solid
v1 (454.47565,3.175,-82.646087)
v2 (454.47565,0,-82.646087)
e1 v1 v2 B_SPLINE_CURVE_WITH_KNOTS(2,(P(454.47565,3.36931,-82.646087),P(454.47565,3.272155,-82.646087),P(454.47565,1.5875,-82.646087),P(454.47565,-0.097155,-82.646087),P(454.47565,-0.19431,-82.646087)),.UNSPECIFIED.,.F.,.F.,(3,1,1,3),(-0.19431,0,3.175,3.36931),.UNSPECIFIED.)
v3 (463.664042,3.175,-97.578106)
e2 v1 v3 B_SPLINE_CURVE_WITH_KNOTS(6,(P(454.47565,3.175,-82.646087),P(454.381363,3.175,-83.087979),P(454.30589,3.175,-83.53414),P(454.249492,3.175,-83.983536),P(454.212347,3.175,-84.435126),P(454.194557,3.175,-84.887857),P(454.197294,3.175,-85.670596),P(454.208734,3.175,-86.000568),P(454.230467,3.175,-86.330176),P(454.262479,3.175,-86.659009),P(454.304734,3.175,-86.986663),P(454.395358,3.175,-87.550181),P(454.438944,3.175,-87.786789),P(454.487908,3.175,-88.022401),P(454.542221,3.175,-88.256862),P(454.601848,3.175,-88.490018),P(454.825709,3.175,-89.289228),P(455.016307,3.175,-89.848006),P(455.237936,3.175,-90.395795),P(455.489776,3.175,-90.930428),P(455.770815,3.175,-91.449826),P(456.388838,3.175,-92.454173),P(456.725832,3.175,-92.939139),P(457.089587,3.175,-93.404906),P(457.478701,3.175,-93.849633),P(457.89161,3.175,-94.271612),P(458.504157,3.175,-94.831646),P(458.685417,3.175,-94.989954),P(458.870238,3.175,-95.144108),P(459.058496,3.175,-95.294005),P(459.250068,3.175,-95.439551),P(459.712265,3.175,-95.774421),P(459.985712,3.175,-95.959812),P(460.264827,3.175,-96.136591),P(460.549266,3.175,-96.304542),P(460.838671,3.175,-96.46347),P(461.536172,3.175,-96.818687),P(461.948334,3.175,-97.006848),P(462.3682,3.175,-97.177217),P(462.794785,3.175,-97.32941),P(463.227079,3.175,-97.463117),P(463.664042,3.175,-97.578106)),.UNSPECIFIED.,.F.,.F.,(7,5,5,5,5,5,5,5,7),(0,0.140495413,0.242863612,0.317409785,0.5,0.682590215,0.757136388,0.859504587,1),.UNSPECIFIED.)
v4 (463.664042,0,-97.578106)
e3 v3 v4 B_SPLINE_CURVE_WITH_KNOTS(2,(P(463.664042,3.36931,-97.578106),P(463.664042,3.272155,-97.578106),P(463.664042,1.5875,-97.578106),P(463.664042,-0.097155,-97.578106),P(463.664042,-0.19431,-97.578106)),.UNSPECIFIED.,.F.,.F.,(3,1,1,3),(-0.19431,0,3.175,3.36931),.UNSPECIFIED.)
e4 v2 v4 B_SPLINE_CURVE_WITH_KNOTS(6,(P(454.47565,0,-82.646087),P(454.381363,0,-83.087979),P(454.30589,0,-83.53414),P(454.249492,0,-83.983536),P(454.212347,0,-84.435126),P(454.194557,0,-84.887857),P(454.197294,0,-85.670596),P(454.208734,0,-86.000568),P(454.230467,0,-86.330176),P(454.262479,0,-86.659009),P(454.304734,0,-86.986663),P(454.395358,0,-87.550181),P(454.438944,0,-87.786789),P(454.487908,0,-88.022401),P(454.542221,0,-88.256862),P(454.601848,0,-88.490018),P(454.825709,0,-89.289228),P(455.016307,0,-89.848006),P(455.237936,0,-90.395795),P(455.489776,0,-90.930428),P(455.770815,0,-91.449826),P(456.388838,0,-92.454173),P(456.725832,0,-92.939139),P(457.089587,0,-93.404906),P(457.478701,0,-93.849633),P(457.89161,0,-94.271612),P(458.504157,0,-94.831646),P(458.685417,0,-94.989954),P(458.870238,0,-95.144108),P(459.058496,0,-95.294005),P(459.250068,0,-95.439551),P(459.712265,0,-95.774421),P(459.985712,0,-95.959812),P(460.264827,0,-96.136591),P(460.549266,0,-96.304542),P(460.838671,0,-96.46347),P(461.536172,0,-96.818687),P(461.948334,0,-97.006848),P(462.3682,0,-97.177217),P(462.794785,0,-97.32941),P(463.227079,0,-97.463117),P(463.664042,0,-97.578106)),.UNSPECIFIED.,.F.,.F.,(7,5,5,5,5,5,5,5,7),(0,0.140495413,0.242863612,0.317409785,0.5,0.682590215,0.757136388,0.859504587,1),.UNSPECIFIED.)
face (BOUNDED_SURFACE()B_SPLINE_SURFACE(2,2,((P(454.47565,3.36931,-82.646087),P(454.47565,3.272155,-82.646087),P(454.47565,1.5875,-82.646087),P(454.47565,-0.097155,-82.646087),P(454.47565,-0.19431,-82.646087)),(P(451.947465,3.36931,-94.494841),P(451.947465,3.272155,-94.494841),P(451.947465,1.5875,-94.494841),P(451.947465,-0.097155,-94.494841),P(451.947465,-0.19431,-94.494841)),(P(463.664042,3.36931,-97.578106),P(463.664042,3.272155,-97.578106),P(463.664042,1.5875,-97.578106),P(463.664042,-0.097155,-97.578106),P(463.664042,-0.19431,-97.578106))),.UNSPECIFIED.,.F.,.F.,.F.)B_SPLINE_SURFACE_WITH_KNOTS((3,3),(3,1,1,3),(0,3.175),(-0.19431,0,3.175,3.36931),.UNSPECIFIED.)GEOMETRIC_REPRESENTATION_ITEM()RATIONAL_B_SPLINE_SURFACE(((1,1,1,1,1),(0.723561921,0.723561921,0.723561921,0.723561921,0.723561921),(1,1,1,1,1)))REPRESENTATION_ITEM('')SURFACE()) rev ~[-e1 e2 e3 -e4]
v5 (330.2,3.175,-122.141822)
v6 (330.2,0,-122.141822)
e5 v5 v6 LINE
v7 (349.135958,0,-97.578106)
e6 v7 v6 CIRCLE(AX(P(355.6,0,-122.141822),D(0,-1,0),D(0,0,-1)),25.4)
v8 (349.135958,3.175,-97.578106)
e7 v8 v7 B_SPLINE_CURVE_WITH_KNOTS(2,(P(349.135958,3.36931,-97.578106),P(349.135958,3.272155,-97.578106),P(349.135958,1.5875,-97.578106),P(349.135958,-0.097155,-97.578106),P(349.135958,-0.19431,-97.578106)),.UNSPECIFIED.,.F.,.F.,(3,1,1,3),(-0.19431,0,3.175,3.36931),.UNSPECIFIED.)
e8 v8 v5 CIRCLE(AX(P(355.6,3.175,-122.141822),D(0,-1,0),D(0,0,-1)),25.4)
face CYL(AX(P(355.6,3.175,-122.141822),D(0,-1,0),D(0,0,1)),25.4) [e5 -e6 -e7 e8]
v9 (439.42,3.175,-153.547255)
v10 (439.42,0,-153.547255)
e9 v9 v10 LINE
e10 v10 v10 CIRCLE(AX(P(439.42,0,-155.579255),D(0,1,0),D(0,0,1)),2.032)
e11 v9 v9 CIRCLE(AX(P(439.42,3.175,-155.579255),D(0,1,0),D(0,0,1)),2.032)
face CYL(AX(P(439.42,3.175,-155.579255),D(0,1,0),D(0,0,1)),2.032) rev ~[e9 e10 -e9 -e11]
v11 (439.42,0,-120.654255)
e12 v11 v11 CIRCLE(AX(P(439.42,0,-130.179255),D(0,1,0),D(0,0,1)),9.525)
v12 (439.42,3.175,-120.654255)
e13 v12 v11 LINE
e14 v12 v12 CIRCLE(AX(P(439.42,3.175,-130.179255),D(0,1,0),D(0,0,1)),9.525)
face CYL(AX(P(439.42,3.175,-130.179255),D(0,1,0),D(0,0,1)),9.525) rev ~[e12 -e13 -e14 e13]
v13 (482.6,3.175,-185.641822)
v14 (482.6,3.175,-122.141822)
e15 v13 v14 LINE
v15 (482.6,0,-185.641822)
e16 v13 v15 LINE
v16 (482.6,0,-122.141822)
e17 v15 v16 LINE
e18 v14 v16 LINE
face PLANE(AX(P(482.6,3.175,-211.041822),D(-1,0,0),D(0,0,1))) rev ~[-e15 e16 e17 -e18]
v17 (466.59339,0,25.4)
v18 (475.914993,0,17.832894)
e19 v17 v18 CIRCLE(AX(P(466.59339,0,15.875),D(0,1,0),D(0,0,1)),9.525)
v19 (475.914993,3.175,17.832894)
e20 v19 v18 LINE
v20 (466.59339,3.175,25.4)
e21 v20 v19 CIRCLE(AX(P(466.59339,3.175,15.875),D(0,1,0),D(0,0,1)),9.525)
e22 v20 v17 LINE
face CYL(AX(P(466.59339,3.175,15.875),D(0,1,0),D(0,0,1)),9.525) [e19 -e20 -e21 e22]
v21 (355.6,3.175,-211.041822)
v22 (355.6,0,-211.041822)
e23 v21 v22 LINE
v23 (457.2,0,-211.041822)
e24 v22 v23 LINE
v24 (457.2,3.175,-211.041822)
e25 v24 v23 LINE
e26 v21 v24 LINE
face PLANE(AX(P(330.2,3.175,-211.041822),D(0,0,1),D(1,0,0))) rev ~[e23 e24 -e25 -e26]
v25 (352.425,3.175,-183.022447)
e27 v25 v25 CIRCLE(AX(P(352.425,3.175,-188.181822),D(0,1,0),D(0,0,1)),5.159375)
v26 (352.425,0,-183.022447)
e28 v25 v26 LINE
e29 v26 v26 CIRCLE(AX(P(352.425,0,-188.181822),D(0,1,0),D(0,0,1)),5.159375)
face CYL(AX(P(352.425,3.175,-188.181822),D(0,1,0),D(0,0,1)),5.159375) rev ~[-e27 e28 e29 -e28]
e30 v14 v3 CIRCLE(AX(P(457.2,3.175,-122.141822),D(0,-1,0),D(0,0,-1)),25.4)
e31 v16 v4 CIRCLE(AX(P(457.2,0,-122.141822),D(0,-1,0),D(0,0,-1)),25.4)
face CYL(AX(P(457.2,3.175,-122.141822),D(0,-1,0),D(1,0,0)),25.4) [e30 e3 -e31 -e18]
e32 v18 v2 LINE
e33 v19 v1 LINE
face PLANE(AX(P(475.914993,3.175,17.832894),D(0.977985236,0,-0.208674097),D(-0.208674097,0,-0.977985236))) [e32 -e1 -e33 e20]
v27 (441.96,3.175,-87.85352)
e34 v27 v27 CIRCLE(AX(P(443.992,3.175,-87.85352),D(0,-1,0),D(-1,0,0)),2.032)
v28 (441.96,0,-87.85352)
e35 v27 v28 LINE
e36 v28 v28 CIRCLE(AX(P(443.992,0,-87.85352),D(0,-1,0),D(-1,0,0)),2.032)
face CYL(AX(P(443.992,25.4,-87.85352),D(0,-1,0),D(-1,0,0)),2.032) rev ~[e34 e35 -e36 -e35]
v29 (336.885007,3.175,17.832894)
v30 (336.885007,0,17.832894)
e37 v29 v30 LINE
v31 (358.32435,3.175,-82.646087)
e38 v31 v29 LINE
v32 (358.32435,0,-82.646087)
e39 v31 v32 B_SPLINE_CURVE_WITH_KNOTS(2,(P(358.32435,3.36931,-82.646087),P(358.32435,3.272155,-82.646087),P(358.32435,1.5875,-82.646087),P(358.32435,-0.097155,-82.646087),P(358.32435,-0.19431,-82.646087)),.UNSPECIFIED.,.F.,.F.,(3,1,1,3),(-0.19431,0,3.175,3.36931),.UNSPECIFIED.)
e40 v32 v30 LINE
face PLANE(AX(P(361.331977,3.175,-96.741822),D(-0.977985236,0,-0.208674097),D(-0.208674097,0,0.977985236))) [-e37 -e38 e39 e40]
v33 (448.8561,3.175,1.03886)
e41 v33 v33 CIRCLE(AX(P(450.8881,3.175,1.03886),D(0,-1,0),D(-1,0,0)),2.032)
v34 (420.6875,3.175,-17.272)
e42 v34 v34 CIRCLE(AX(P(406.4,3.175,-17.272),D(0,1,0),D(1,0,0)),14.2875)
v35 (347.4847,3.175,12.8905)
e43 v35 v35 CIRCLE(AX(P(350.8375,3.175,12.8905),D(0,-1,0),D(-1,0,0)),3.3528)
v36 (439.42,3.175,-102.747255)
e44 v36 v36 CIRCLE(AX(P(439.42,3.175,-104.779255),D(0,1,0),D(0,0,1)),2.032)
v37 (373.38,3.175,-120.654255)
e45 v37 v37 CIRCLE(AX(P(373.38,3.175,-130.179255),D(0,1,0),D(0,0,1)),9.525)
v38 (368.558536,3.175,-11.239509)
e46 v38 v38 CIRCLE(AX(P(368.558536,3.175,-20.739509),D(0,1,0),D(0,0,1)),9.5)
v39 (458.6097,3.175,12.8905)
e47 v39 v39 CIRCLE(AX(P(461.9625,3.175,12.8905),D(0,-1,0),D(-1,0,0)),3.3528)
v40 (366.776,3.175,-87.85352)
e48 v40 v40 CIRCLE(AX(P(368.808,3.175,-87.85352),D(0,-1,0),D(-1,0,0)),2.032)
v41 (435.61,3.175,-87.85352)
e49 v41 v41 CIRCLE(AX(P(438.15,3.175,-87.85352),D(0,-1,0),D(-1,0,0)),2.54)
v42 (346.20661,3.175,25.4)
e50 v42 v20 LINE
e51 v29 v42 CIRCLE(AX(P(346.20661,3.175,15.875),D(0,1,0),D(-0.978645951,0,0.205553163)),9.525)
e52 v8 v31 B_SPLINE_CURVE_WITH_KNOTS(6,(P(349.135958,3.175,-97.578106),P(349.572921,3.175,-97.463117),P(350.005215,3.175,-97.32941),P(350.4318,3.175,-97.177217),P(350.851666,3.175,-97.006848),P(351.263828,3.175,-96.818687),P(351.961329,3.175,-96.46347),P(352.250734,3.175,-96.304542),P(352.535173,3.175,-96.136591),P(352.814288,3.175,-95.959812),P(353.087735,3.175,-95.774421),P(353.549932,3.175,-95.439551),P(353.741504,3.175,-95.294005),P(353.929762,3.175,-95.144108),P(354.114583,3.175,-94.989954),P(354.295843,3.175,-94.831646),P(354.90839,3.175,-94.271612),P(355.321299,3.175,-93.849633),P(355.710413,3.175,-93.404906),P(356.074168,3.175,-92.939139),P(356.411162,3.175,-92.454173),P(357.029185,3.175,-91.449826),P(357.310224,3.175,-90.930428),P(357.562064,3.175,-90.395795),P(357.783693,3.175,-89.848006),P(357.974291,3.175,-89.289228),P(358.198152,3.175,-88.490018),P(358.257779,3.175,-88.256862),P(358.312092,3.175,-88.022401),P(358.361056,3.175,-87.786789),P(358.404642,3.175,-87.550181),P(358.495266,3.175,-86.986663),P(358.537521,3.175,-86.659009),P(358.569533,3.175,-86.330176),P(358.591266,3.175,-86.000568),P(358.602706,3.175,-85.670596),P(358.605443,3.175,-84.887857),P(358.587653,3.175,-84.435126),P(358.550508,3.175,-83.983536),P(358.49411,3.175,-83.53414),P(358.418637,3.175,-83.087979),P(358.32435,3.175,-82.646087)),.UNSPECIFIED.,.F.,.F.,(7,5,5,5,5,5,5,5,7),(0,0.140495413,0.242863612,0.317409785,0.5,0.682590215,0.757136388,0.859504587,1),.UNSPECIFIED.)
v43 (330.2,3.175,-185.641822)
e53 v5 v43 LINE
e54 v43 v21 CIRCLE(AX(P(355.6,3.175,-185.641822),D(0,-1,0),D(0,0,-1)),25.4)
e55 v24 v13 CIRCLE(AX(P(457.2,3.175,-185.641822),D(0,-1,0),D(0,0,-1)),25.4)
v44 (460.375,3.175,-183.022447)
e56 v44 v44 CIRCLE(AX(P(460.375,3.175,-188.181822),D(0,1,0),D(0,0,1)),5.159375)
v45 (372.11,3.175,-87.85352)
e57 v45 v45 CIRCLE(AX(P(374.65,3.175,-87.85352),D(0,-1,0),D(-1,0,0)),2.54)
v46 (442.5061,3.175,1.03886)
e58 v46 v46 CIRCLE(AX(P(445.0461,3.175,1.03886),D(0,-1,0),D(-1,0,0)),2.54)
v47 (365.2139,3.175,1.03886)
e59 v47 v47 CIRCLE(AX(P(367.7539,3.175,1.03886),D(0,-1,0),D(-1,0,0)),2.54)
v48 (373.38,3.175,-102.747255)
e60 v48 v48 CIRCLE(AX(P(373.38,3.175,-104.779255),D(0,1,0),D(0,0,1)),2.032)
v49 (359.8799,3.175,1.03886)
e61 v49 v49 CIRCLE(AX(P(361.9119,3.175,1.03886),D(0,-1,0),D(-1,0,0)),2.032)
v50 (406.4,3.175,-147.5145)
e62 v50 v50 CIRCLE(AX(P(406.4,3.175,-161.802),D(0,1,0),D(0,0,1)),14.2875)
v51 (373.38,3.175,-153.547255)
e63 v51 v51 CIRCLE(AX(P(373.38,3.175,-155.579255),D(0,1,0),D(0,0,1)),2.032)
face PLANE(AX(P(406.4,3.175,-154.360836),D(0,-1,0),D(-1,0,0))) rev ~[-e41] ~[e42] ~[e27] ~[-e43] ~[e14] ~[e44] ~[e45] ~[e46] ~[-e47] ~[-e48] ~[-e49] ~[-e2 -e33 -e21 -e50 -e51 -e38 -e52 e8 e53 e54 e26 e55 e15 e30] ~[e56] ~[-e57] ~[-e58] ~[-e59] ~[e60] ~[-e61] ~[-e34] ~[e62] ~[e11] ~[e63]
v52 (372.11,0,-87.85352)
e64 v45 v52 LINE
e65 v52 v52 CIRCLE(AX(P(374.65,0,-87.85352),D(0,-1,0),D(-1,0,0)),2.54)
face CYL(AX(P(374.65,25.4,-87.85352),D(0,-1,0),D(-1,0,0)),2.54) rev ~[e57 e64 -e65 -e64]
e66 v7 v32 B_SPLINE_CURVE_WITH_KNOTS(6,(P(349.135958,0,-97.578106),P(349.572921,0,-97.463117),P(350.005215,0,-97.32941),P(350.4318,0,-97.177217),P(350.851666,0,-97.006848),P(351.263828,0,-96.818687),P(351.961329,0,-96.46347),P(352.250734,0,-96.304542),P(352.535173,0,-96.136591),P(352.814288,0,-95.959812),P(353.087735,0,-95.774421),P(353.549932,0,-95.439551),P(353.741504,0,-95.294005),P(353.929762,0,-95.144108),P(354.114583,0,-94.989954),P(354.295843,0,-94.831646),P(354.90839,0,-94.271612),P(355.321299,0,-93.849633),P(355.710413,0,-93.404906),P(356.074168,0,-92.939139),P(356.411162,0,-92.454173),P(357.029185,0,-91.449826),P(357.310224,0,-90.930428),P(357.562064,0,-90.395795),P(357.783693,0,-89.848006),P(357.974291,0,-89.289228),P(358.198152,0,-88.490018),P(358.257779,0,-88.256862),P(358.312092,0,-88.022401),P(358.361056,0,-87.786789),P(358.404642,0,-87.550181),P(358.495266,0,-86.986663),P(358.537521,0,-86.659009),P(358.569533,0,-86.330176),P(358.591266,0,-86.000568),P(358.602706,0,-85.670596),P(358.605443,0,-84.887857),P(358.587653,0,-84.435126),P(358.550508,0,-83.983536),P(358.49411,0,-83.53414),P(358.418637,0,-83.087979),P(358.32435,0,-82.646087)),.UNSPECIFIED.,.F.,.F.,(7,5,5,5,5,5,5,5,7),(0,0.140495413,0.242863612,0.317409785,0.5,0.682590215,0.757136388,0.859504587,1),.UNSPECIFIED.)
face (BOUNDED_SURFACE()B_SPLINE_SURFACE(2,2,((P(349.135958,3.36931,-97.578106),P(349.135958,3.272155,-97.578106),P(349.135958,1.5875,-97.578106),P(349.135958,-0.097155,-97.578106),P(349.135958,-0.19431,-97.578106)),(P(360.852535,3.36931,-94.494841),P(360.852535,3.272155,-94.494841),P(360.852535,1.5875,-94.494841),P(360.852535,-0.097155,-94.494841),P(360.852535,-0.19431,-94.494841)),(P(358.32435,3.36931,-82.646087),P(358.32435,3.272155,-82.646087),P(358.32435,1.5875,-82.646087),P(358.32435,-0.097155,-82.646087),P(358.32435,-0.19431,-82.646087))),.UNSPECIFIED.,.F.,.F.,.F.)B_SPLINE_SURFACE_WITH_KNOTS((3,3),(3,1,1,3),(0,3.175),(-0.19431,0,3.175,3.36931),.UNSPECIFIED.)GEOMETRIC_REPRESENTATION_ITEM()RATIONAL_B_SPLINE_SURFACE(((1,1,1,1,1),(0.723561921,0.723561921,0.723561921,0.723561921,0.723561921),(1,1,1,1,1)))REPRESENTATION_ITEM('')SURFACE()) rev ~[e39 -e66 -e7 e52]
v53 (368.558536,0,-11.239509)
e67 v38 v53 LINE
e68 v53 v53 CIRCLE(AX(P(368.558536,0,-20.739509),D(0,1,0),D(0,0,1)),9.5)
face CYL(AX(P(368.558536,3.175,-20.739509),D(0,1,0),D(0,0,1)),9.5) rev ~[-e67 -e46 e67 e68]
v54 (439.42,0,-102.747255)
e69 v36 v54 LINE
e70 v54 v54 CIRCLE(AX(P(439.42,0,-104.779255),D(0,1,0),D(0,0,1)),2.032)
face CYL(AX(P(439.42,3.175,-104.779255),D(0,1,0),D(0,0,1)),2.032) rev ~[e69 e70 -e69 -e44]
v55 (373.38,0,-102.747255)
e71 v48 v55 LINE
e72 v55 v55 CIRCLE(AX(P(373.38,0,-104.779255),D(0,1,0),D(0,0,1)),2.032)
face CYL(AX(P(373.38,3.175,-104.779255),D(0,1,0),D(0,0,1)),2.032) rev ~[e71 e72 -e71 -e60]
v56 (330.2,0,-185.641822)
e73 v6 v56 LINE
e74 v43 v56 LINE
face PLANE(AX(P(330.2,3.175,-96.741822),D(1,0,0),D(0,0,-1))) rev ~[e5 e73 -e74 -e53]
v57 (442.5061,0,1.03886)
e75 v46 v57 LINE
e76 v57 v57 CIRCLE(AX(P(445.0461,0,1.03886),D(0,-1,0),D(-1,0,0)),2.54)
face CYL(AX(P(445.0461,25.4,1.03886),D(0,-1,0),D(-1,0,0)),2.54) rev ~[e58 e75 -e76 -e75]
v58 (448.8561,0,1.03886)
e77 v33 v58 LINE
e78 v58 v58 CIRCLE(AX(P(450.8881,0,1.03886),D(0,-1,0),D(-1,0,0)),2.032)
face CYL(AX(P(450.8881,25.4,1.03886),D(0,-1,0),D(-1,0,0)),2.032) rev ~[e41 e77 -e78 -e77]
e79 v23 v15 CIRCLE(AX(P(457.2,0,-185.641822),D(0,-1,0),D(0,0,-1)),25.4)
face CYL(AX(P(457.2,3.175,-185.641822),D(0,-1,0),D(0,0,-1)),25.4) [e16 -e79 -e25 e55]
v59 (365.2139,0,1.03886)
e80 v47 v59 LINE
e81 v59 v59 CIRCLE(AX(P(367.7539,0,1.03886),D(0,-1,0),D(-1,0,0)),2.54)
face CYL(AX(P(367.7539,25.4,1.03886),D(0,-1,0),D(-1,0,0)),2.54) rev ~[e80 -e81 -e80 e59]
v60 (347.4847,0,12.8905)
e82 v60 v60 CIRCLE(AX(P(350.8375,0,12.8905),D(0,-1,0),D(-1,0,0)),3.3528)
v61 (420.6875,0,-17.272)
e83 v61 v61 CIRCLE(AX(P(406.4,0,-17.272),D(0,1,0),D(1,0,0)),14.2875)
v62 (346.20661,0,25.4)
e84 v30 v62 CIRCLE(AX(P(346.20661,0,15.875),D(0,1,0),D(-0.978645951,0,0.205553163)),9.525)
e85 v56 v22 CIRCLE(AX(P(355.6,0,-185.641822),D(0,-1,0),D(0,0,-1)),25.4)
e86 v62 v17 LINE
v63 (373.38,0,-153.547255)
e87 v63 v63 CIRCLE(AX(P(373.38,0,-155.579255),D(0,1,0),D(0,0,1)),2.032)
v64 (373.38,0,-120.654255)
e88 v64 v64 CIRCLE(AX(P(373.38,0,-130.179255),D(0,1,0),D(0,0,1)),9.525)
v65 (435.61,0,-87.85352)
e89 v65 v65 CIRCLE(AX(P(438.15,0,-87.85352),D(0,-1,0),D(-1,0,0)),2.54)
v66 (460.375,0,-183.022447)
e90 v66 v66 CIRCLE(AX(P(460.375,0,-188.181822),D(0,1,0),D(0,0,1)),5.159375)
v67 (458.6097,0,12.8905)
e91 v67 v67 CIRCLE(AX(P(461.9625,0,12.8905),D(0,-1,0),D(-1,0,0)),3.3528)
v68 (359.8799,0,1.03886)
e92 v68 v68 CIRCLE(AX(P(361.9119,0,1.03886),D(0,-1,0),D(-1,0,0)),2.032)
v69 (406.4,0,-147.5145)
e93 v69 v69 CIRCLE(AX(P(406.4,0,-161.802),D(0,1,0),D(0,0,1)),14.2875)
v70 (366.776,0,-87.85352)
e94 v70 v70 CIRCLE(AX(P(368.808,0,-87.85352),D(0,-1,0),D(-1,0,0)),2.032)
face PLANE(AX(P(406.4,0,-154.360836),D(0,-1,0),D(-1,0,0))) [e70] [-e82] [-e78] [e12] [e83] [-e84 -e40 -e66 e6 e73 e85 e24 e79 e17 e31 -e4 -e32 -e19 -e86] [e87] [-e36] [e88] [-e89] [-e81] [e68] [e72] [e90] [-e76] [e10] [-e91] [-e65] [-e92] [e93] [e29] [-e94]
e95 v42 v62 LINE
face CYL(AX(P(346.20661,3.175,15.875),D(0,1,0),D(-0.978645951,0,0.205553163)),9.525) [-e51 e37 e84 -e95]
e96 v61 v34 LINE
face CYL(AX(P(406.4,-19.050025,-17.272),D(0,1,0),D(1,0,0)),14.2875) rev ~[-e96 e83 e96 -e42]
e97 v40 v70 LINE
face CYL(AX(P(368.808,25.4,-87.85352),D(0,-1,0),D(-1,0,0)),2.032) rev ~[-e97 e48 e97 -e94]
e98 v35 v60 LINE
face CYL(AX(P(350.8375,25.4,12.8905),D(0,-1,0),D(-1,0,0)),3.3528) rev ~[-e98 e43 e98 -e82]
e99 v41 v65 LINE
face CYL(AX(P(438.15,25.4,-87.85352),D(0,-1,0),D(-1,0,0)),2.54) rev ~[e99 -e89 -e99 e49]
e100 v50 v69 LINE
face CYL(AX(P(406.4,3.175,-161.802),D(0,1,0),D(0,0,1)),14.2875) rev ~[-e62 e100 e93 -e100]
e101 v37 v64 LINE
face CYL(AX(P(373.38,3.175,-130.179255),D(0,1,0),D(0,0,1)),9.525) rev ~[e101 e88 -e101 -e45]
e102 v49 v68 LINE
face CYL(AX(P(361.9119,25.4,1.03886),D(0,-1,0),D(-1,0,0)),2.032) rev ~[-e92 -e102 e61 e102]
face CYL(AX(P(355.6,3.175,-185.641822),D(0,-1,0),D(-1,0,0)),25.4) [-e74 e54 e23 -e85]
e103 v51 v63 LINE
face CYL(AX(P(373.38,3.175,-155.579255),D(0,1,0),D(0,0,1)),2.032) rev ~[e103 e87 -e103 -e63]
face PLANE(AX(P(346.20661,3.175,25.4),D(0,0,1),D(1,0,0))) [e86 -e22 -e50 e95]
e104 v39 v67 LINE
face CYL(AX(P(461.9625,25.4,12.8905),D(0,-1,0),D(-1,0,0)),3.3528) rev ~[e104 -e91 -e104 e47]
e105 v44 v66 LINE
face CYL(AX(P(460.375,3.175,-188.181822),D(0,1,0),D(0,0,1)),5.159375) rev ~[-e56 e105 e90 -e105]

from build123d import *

# Parameters (mm, degrees)
SKETCH1_W                  = 355.6
SKETCH1_H                  = 77.724
BOSS_EXTRUDE1_DEPTH        = 22.225
SKETCH2_W                  = 74.549
SKETCH2_H                  = 19.05
CUT_EXTRUDE1_DEPTH         = 364.67400769
SKETCH3_W                  = 25.4
SKETCH3_H                  = 3.937
CUT_EXTRUDE2_DEPTH         = 817.444922817
SKETCH4_W                  = 330.2
SKETCH4_H                  = 3.175
BOSS_EXTRUDE2_DEPTH        = 15.875
SKETCH5_W                  = 69.85
SKETCH5_H                  = 3.175
BOSS_EXTRUDE3_DEPTH        = 457.2
SKETCH6_W                  = 330.2
SKETCH6_H                  = 3.175
BOSS_EXTRUDE4_DEPTH        = 3.937
SKETCH7_W                  = 330.2
SKETCH7_H                  = 3.175
BOSS_EXTRUDE5_DEPTH        = 15.875
SKETCH8_W                  = 355.6
SKETCH8_H                  = 3.175
BOSS_EXTRUDE6_DEPTH        = 3.937
SKETCH9_W                  = 355.6
SKETCH9_H                  = 3.175
BOSS_EXTRUDE7_DEPTH        = 19.05
SKETCH10_W                 = 76.358809824
SKETCH10_H                 = 3.175
BOSS_EXTRUDE8_DEPTH        = 27.432
SKETCH11_W                 = 124.052954744
SKETCH11_H                 = 3.175
BOSS_EXTRUDE9_DEPTH        = 19.05
DRAFT1_ANGLE               = 30
DRAFT2_ANGLE               = 19
M20_CLEARANCE_HOLE1_D      = 22.225
M20_CLEARANCE_HOLE1_DEPTH  = 19.050025
HOLE1_D                    = 8.128
HOLE1_DEPTH                = 22.225
M25_CLEARANCE_HOLE1_D      = 28.575
M25_CLEARANCE_HOLE1_DEPTH  = 22.225
M3_CLEARANCE_HOLE1_D       = 3.571875
M3_CLEARANCE_HOLE1_DEPTH   = 22.225
M2_CLEARANCE_HOLE1_D       = 2.54
M2_CLEARANCE_HOLE1_DEPTH   = 22.225
M3_5_CLEARANCE_HOLE1_D     = 4.064
M3_5_CLEARANCE_HOLE1_DEPTH = 22.225
HOLE2_D                    = 5.08
HOLE2_DEPTH                = 22.225
M25_CLEARANCE_HOLE2_D      = 28.575
M25_CLEARANCE_HOLE2_DEPTH  = 19.050025
HOLE3_D                    = 5.1054
HOLE3_DEPTH                = 19.050025
HOLE4_D                    = 8.128
HOLE4_DEPTH                = 19.050025
M3_CLEARANCE_HOLE2_D       = 3.571875
M3_CLEARANCE_HOLE2_DEPTH   = 19.050025
M6_CLEARANCE_HOLE1_D       = 6.7056
M6_CLEARANCE_HOLE1_DEPTH   = 22.225
M6_CLEARANCE_HOLE2_D       = 6.7056
M6_CLEARANCE_HOLE2_DEPTH   = 101.219
M5_CLEARANCE_HOLE1_D       = 5.334
M5_CLEARANCE_HOLE1_DEPTH   = 92.837
CHAMFER1_SIZE              = 3.175
FILLET1_R                  = 0.762
FILLET2_R                  = 3.175
FILLET3_R                  = 3.937
CUT_EXTRUDE3_DEPTH         = 819.902667079
CUT_EXTRUDE3_DEPTH_BACK    = 819.902667079
BOSS_EXTRUDE10_DEPTH       = 3.175
BOSS_EXTRUDE11_DEPTH       = 3.175
FILLET4_R                  = 25.4
FILLET5_R                  = 12.7
SKETCH47_R                 = 14.2875
SKETCH47_R_2               = 8.5
SKETCH47_R_3               = 9.525
SKETCH47_R_4               = 2.032
CUT_EXTRUDE4_DEPTH         = 527.736643419
SKETCH49_R                 = 9.5
CUT_EXTRUDE12_DEPTH        = 12.7
SKETCH58_R                 = 5.159375
CUT_EXTRUDE14_DEPTH        = 527.736643419


with BuildPart() as part:
    # Sketch1 → Boss-Extrude1 (new body)
    with BuildSketch(Plane(origin=(0, 3.175, 0), x_dir=(1, 0, 0), z_dir=(0, 1, 0))):
        with Locations((635, 34.925)):
            Rectangle(SKETCH1_W, SKETCH1_H)
    extrude(amount=-BOSS_EXTRUDE1_DEPTH)

    # Sketch2 → Cut-Extrude1 (cut, through all)
    with BuildSketch(Plane(origin=(812.8, 0, 0), x_dir=(0, 0, -1), z_dir=(1, 0, 0))):
        with Locations((33.3375, -9.525)):
            Rectangle(SKETCH2_W, SKETCH2_H)
    extrude(amount=-CUT_EXTRUDE1_DEPTH, mode=Mode.SUBTRACT)

    # Sketch3 → Cut-Extrude2 (cut, through all)
    with BuildSketch(Plane(origin=(0, 3.175, 0), x_dir=(-1, 0, 0), z_dir=(0, 1, 0))):
        with Locations((-469.9, 1.9685)):
            Rectangle(SKETCH3_W, SKETCH3_H)
    extrude(amount=-CUT_EXTRUDE2_DEPTH, mode=Mode.SUBTRACT)

    # Sketch4 → Boss-Extrude2 (add)
    with BuildSketch(Plane(origin=(0, 3.175, 0), x_dir=(-1, 0, 0), z_dir=(0, 1, 0))):
        with Locations((-647.7, 2.3495)):
            Rectangle(SKETCH4_W, SKETCH4_H)
    extrude(amount=BOSS_EXTRUDE2_DEPTH)

    # Sketch5 → Boss-Extrude3 (add)
    with BuildSketch(Plane.ZY.offset(-457.2)):
        with Locations((-34.925, 1.5875)):
            Rectangle(SKETCH5_W, SKETCH5_H)
    extrude(amount=BOSS_EXTRUDE3_DEPTH)

    # Sketch6 → Boss-Extrude4 (add)
    with BuildSketch(Plane.XY):
        with Locations((165.1, 1.5875)):
            Rectangle(SKETCH6_W, SKETCH6_H)
    extrude(amount=BOSS_EXTRUDE4_DEPTH)

    # Sketch7 → Boss-Extrude5 (add)
    with BuildSketch(Plane(origin=(0, 3.175, 0), x_dir=(-1, 0, 0), z_dir=(0, 1, 0))):
        with Locations((-165.1, 2.3495)):
            Rectangle(SKETCH7_W, SKETCH7_H)
    extrude(amount=BOSS_EXTRUDE5_DEPTH)

    # Sketch8 → Boss-Extrude6 (add)
    with BuildSketch(Plane(origin=(0, 0, -69.85), x_dir=(-1, 0, 0), z_dir=(0, 0, -1))):
        with Locations((-177.8, 1.5875)):
            Rectangle(SKETCH8_W, SKETCH8_H)
    extrude(amount=BOSS_EXTRUDE6_DEPTH)

    # Sketch9 → Boss-Extrude7 (add)
    with BuildSketch(Plane.XZ):
        with Locations((177.8, -72.1995)):
            Rectangle(SKETCH9_W, SKETCH9_H)
    extrude(amount=BOSS_EXTRUDE7_DEPTH)

    # Sketch10 → Boss-Extrude8 (add)
    with BuildSketch(Plane(origin=(0, 0, -69.85), x_dir=(-1, 0, 0), z_dir=(0, 0, -1))):
        with Locations((-406.4, 1.5875)):
            Rectangle(SKETCH10_W, SKETCH10_H)
    extrude(amount=BOSS_EXTRUDE8_DEPTH)

    # Sketch11 → Boss-Extrude9 (add)
    with BuildSketch(Plane.XY):
        with Locations((406.4, 1.5875)):
            Rectangle(SKETCH11_W, SKETCH11_H)
    extrude(amount=BOSS_EXTRUDE9_DEPTH)

    # Draft1
    draft1_faces = [part.faces().sort_by_distance(p)[0] for p in [
        (344.373522628, 1.5875, 9.525),
        (468.426477372, 1.5875, 9.525),
    ]]
    draft(draft1_faces, Plane.XY.offset(19.05), DRAFT1_ANGLE)

    # Draft2
    draft2_faces = [part.faces().sort_by_distance(p)[0] for p in [
        (368.220595088, 1.5875, -83.566),
        (444.579404912, 1.5875, -83.566),
    ]]
    draft(draft2_faces, Plane(origin=(0, 0, -97.282), x_dir=(-1, 0, 0), z_dir=(0, 0, -1)), DRAFT2_ANGLE)

    # M20 Clearance Hole1
    with Locations(Plane(origin=(0, 0, 0), x_dir=(-1, 0, 0), z_dir=(0, -1, 0))):
        with Locations((-624.254637168, 36.83)):
            Hole(M20_CLEARANCE_HOLE1_D / 2, depth=M20_CLEARANCE_HOLE1_DEPTH)

    # Hole1
    with Locations(Plane(origin=(0, 3.175, 0), x_dir=(1, 0, 0), z_dir=(0, 1, 0))):
        with Locations((229.261562832, 36.83), (229.261562832, 62.23), (229.261562832, 11.43)):
            Hole(HOLE1_D / 2, depth=HOLE1_DEPTH)

    # M25 Clearance Hole1
    with Locations(Plane(origin=(0, 3.175, 0), x_dir=(1, 0, 0), z_dir=(0, 1, 0))):
        with Locations((147.829162832, 36.83)):
            Hole(M25_CLEARANCE_HOLE1_D / 2, depth=M25_CLEARANCE_HOLE1_DEPTH)

    # M3 Clearance Hole1
    with Locations(Plane(origin=(0, 3.175, 0), x_dir=(1, 0, 0), z_dir=(0, 1, 0))):
        with Locations((120.600362832, 65.405), (120.600362832, 8.255), (237.440362832, 8.255), (237.440362832, 65.405)):
            Hole(M3_CLEARANCE_HOLE1_D / 2, depth=M3_CLEARANCE_HOLE1_DEPTH)

    # M2 Clearance Hole1
    with Locations(Plane(origin=(0, 3.175, 0), x_dir=(1, 0, 0), z_dir=(0, 1, 0))):
        with Locations((101.6, 3.175), (101.6, 66.675), (50.8, 66.675), (50.8, 3.175), (762, 66.675), (762, 3.175), (711.2, 3.175), (711.2, 66.675)):
            Hole(M2_CLEARANCE_HOLE1_D / 2, depth=M2_CLEARANCE_HOLE1_DEPTH)

    # M3.5 Clearance Hole1
    with Locations(Plane(origin=(0, 3.175, 0), x_dir=(1, 0, 0), z_dir=(0, 1, 0))):
        with Locations((443.992, 87.85352), (368.808, 87.85352), (361.9119, -1.03886), (450.8881, -1.03886)):
            Hole(M3_5_CLEARANCE_HOLE1_D / 2, depth=M3_5_CLEARANCE_HOLE1_DEPTH)

    # Hole2
    with Locations(Plane(origin=(0, 3.175, 0), x_dir=(1, 0, 0), z_dir=(0, 1, 0))):
        with Locations((438.15, 87.85352), (374.65, 87.85352), (445.0461, -1.03886), (367.7539, -1.03886), (115.520362832, 65.405), (115.520362832, 8.255), (242.520362832, 8.255), (242.520362832, 65.405)):
            Hole(HOLE2_D / 2, depth=HOLE2_DEPTH)

    # M25 Clearance Hole2
    with Locations(Plane(origin=(0, 0, 0), x_dir=(-1, 0, 0), z_dir=(0, -1, 0))):
        with Locations((-406.4, 17.272), (-664.970837168, 36.83)):
            Hole(M25_CLEARANCE_HOLE2_D / 2, depth=M25_CLEARANCE_HOLE2_DEPTH)

    # Hole3
    with Locations(Plane(origin=(0, 0, 0), x_dir=(-1, 0, 0), z_dir=(0, -1, 0))):
        with Locations((-570.279637168, 8.255), (-570.279637168, 65.405), (-697.279637168, 65.405), (-697.279637168, 8.255)):
            Hole(HOLE3_D / 2, depth=HOLE3_DEPTH)

    # Hole4
    with Locations(Plane(origin=(0, 0, 0), x_dir=(-1, 0, 0), z_dir=(0, -1, 0))):
        with Locations((-583.538437168, 11.43), (-583.538437168, 36.83), (-583.538437168, 62.23)):
            Hole(HOLE4_D / 2, depth=HOLE4_DEPTH)

    # M3 Clearance Hole2
    with Locations(Plane(origin=(0, 0, 0), x_dir=(-1, 0, 0), z_dir=(0, -1, 0))):
        with Locations((-692.199637168, 8.255), (-692.199637168, 65.405), (-575.359637168, 65.405), (-575.359637168, 8.255)):
            Hole(M3_CLEARANCE_HOLE2_D / 2, depth=M3_CLEARANCE_HOLE2_DEPTH)

    # M6 Clearance Hole1
    with Locations(Plane(origin=(0, 3.175, 0), x_dir=(1, 0, 0), z_dir=(0, 1, 0))):
        with Locations((612.775, 10.287), (498.475, 10.287), (314.325, 10.287), (200.025, 10.287), (628.319218584, 61.976), (184.480781416, 61.976), (690.88, 15.875), (739.902, 9.525), (121.92, 15.875), (72.898, 9.525), (298.874532383, 17.547282407), (513.925467617, 17.547282407), (165.1, 14.732), (266.7, 14.732), (546.1, 14.732), (647.7, 14.732), (330.2, 61.722), (279.4, 61.722), (139.7, 61.722), (25.4, 61.722), (482.6, 61.722), (533.4, 61.722), (673.1, 61.722), (787.4, 61.722), (6.35, 39.497), (806.45, 39.497), (350.8375, -12.8905), (461.9625, -12.8905)):
            Hole(M6_CLEARANCE_HOLE1_D / 2, depth=M6_CLEARANCE_HOLE1_DEPTH)

    # M6 Clearance Hole2
    with Locations(Plane.XY.offset(3.937)):
        with Locations((495.3, 12.7), (520.7, 12.7), (546.1, 12.7), (571.5, 12.7), (596.9, 12.7), (622.3, 12.7), (647.7, 12.7), (673.1, 12.7), (698.5, 12.7), (723.9, 12.7), (749.3, 12.7), (774.7, 12.7), (800.1, 12.7), (317.5, 12.7), (292.1, 12.7), (266.7, 12.7), (241.3, 12.7), (215.9, 12.7), (190.5, 12.7), (165.1, 12.7), (139.7, 12.7), (114.3, 12.7), (88.9, 12.7), (63.5, 12.7), (12.7, 12.7), (38.1, 12.7)):
            Hole(M6_CLEARANCE_HOLE2_D / 2, depth=M6_CLEARANCE_HOLE2_DEPTH)

    # M5 Clearance Hole1
    with Locations(Plane(origin=(0, 0, -73.787), x_dir=(-1, 0, 0), z_dir=(0, 0, -1))):
        with Locations((-469.9, -12.7), (-495.3, -12.7), (-520.7, -12.7), (-546.1, -12.7), (-571.5, -12.7), (-596.9, -12.7), (-622.3, -12.7), (-647.7, -12.7), (-673.1, -12.7), (-698.5, -12.7), (-723.9, -12.7), (-749.3, -12.7), (-774.7, -12.7), (-800.1, -12.7), (-342.9, -12.7), (-317.5, -12.7), (-292.1, -12.7), (-266.7, -12.7), (-241.3, -12.7), (-215.9, -12.7), (-190.5, -12.7), (-165.1, -12.7), (-139.7, -12.7), (-114.3, -12.7), (-88.9, -12.7), (-63.5, -12.7), (-38.1, -12.7), (-12.7, -12.7)):
            Hole(M5_CLEARANCE_HOLE1_D / 2, depth=M5_CLEARANCE_HOLE1_DEPTH)

    # Chamfer1
    chamfer1_edges = [part.edges().sort_by_distance(p)[0] for p in [
        (482.6, 19.05, 2.3495),
        (0, 19.05, 2.3495),
        (812.8, 19.05, 2.3495),
        (812.8, -19.05, -72.1995),
        (457.2, -19.05, -72.1995),
        (0, -19.05, -72.1995),
        (330.2, 19.05, 2.3495),
        (355.6, -19.05, -72.1995),
    ]]
    chamfer(chamfer1_edges, length=CHAMFER1_SIZE)

    # Fillet1
    fillet1_edges = [part.edges().sort_by_distance(p)[0] for p in [
        (647.7, 3.175, 0.762),
        (177.8, 0, -70.612),
        (635, 0, -70.612),
        (165.1, 3.175, 0.762),
    ]]
    fillet(fillet1_edges, radius=FILLET1_R)

    # Fillet2
    fillet2_edges = [part.edges().sort_by_distance(p)[0] for p in [
        (368.220595088, 1.5875, -97.282),
        (333.375, 1.5875, 0),
        (344.373522628, 1.5875, 19.05),
        (444.579404912, 1.5875, -97.282),
        (358.775, 1.5875, -69.85),
        (479.425, 1.5875, 0),
        (468.426477372, 1.5875, 19.05),
        (454.025, 1.5875, -69.85),
    ]]
    fillet(fillet2_edges, radius=FILLET2_R)

    # Fillet3
    fillet3_edges = [part.edges().sort_by_distance(p)[0] for p in [
        (165.1, 0, 3.937),
        (647.7, 0, 3.937),
        (635, 3.175, -73.787),
        (177.8, 3.175, -73.787),
    ]]
    fillet(fillet3_edges, radius=FILLET3_R)

    # Sketch44 → Cut-Extrude3 (cut, two sides: drawn at the far end of the back side and taken through both)
    with BuildSketch(Plane(origin=(0, 3.175, 0), x_dir=(1, 0, 0), z_dir=(0, 1, 0)).offset(-CUT_EXTRUDE3_DEPTH_BACK)):
        Polygon((367.483279101, 95.14067889), (343.456979076, -17.4625), (339.564298226, -35.70618453), (-19.786749283, -35.70618453), (-19.786749283, 120.609234526), (367.483279101, 120.609234526), align=None)
        Polygon((445.316720899, 95.14067889), (445.316720899, 120.609234526), (832.586749283, 120.609234526), (832.586749283, -35.70618453), (473.235701774, -35.70618453), (469.343020924, -17.4625), align=None)
    extrude(amount=CUT_EXTRUDE3_DEPTH + CUT_EXTRUDE3_DEPTH_BACK, mode=Mode.SUBTRACT)

    # Sketch45 → Boss-Extrude10 (add)
    with BuildSketch(Plane(origin=(0, 3.175, 0), x_dir=(1, 0, 0), z_dir=(0, 1, 0))):
        with BuildLine():
            Line((346.206609733, -25.4), (466.593390267, -25.4))
            ThreePointArc((466.593390267, -25.4), (472.596584658, -23.270084997), (475.914992949, -17.832893882))
            Line((475.914992949, -17.832893882), (451.468023216, 96.741822292))
            ThreePointArc((451.468023216, 96.741822292), (448.04309111, 101.716937823), (442.314699422, 103.632))
            Line((442.314699422, 103.632), (370.485300578, 103.632))
            ThreePointArc((370.485300578, 103.632), (364.75690889, 101.716937823), (361.331976784, 96.741822292))
            Line((361.331976784, 96.741822292), (336.885007051, -17.832893882))
            ThreePointArc((336.885007051, -17.832893882), (340.203415342, -23.270084997), (346.206609733, -25.4))
        make_face()
        with BuildLine():
            Line((343.456979076, -17.4625), (367.483279101, 95.14067889))
            ThreePointArc((367.483279101, 95.14067889), (368.641568694, 96.691816771), (370.485300578, 97.282))
            Line((370.485300578, 97.282), (442.314699422, 97.282))
            ThreePointArc((442.314699422, 97.282), (444.158431306, 96.691816771), (445.316720899, 95.14067889))
            Line((445.316720899, 95.14067889), (469.343020924, -17.4625))
            ThreePointArc((469.343020924, -17.4625), (468.180890267, -18.624630657), (466.593390267, -19.05))
            Line((466.593390267, -19.05), (346.206609733, -19.05))
            ThreePointArc((346.206609733, -19.05), (344.619109733, -18.624630657), (343.456979076, -17.4625))
        make_face(mode=Mode.SUBTRACT)
    extrude(amount=-BOSS_EXTRUDE10_DEPTH)

    # Sketch46 → Boss-Extrude11 (add)
    with BuildSketch(Plane(origin=(0, 3.175, 0), x_dir=(1, 0, 0), z_dir=(0, 1, 0))):
        with BuildLine():
            Line((361.331976784, 96.741822292), (330.2, 96.741822292))
            Line((330.2, 96.741822292), (330.2, 211.041822292))
            Line((330.2, 211.041822292), (482.6, 211.041822292))
            Line((482.6, 211.041822292), (482.6, 96.741822292))
            Line((482.6, 96.741822292), (451.468023216, 96.741822292))
            ThreePointArc((451.468023216, 96.741822292), (448.04309111, 101.716937823), (442.314699422, 103.632))
            Line((442.314699422, 103.632), (370.485300578, 103.632))
            ThreePointArc((370.485300578, 103.632), (364.75690889, 101.716937823), (361.331976784, 96.741822292))
        make_face()
    extrude(amount=-BOSS_EXTRUDE11_DEPTH)

    # Fillet4
    fillet4_edges = [part.edges().sort_by_distance(p)[0] for p in [
        (482.6, 1.5875, -96.741822292),
        (482.6, 1.5875, -211.041822292),
        (330.2, 1.5875, -211.041822292),
        (330.2, 1.5875, -96.741822292),
    ]]
    fillet(fillet4_edges, radius=FILLET4_R)

    # Fillet5
    fillet5_edges = [part.edges().sort_by_distance(p)[0] for p in [
        (361.331976784, 1.5875, -96.741822292),
        (451.468023216, 1.5875, -96.741822292),
    ]]
    fillet(fillet5_edges, radius=FILLET5_R)

    # Sketch47 → Cut-Extrude4 (cut, through all)
    with BuildSketch(Plane(origin=(0, 3.175, 0), x_dir=(1, 0, 0), z_dir=(0, 1, 0))):
        with Locations(Location((406.4, 161.801999542, 0), (0, 0, 270))):
            Circle(SKETCH47_R)
        with Locations(Location((368.558536254, 20.739509412, 0), (0, 0, 270))):
            Circle(SKETCH47_R_2)
        with Locations(Location((439.42, 130.179254563, 0), (0, 0, 270))):
            Circle(SKETCH47_R_3)
        with Locations(Location((373.38, 130.179254563, 0), (0, 0, 270))):
            Circle(SKETCH47_R_3)
        with Locations(Location((373.38, 155.579254563, 0), (0, 0, 270))):
            Circle(SKETCH47_R_4)
        with Locations(Location((373.38, 104.779254563, 0), (0, 0, 270))):
            Circle(SKETCH47_R_4)
        with Locations(Location((439.42, 155.579254563, 0), (0, 0, 270))):
            Circle(SKETCH47_R_4)
        with Locations(Location((439.42, 104.779254563, 0), (0, 0, 270))):
            Circle(SKETCH47_R_4)
    extrude(amount=-CUT_EXTRUDE4_DEPTH, mode=Mode.SUBTRACT)

    # Sketch49 → Cut-Extrude12 (cut)
    with BuildSketch(Plane(origin=(0, 3.175, 0), x_dir=(1, 0, 0), z_dir=(0, 1, 0))):
        with Locations(Location((368.558536254, 20.739509412, 0), (0, 0, 270))):
            Circle(SKETCH49_R)
    extrude(amount=-CUT_EXTRUDE12_DEPTH, mode=Mode.SUBTRACT)

    # Sketch58 → Cut-Extrude14 (cut, through all)
    with BuildSketch(Plane(origin=(0, 3.175, 0), x_dir=(1, 0, 0), z_dir=(0, 1, 0))):
        with Locations(Location((352.425, 188.181822292, 0), (0, 0, 270))):
            Circle(SKETCH58_R)
        with Locations(Location((460.375, 188.181822292, 0), (0, 0, 270))):
            Circle(SKETCH58_R)
    extrude(amount=-CUT_EXTRUDE14_DEPTH, mode=Mode.SUBTRACT)


solid = part.part
